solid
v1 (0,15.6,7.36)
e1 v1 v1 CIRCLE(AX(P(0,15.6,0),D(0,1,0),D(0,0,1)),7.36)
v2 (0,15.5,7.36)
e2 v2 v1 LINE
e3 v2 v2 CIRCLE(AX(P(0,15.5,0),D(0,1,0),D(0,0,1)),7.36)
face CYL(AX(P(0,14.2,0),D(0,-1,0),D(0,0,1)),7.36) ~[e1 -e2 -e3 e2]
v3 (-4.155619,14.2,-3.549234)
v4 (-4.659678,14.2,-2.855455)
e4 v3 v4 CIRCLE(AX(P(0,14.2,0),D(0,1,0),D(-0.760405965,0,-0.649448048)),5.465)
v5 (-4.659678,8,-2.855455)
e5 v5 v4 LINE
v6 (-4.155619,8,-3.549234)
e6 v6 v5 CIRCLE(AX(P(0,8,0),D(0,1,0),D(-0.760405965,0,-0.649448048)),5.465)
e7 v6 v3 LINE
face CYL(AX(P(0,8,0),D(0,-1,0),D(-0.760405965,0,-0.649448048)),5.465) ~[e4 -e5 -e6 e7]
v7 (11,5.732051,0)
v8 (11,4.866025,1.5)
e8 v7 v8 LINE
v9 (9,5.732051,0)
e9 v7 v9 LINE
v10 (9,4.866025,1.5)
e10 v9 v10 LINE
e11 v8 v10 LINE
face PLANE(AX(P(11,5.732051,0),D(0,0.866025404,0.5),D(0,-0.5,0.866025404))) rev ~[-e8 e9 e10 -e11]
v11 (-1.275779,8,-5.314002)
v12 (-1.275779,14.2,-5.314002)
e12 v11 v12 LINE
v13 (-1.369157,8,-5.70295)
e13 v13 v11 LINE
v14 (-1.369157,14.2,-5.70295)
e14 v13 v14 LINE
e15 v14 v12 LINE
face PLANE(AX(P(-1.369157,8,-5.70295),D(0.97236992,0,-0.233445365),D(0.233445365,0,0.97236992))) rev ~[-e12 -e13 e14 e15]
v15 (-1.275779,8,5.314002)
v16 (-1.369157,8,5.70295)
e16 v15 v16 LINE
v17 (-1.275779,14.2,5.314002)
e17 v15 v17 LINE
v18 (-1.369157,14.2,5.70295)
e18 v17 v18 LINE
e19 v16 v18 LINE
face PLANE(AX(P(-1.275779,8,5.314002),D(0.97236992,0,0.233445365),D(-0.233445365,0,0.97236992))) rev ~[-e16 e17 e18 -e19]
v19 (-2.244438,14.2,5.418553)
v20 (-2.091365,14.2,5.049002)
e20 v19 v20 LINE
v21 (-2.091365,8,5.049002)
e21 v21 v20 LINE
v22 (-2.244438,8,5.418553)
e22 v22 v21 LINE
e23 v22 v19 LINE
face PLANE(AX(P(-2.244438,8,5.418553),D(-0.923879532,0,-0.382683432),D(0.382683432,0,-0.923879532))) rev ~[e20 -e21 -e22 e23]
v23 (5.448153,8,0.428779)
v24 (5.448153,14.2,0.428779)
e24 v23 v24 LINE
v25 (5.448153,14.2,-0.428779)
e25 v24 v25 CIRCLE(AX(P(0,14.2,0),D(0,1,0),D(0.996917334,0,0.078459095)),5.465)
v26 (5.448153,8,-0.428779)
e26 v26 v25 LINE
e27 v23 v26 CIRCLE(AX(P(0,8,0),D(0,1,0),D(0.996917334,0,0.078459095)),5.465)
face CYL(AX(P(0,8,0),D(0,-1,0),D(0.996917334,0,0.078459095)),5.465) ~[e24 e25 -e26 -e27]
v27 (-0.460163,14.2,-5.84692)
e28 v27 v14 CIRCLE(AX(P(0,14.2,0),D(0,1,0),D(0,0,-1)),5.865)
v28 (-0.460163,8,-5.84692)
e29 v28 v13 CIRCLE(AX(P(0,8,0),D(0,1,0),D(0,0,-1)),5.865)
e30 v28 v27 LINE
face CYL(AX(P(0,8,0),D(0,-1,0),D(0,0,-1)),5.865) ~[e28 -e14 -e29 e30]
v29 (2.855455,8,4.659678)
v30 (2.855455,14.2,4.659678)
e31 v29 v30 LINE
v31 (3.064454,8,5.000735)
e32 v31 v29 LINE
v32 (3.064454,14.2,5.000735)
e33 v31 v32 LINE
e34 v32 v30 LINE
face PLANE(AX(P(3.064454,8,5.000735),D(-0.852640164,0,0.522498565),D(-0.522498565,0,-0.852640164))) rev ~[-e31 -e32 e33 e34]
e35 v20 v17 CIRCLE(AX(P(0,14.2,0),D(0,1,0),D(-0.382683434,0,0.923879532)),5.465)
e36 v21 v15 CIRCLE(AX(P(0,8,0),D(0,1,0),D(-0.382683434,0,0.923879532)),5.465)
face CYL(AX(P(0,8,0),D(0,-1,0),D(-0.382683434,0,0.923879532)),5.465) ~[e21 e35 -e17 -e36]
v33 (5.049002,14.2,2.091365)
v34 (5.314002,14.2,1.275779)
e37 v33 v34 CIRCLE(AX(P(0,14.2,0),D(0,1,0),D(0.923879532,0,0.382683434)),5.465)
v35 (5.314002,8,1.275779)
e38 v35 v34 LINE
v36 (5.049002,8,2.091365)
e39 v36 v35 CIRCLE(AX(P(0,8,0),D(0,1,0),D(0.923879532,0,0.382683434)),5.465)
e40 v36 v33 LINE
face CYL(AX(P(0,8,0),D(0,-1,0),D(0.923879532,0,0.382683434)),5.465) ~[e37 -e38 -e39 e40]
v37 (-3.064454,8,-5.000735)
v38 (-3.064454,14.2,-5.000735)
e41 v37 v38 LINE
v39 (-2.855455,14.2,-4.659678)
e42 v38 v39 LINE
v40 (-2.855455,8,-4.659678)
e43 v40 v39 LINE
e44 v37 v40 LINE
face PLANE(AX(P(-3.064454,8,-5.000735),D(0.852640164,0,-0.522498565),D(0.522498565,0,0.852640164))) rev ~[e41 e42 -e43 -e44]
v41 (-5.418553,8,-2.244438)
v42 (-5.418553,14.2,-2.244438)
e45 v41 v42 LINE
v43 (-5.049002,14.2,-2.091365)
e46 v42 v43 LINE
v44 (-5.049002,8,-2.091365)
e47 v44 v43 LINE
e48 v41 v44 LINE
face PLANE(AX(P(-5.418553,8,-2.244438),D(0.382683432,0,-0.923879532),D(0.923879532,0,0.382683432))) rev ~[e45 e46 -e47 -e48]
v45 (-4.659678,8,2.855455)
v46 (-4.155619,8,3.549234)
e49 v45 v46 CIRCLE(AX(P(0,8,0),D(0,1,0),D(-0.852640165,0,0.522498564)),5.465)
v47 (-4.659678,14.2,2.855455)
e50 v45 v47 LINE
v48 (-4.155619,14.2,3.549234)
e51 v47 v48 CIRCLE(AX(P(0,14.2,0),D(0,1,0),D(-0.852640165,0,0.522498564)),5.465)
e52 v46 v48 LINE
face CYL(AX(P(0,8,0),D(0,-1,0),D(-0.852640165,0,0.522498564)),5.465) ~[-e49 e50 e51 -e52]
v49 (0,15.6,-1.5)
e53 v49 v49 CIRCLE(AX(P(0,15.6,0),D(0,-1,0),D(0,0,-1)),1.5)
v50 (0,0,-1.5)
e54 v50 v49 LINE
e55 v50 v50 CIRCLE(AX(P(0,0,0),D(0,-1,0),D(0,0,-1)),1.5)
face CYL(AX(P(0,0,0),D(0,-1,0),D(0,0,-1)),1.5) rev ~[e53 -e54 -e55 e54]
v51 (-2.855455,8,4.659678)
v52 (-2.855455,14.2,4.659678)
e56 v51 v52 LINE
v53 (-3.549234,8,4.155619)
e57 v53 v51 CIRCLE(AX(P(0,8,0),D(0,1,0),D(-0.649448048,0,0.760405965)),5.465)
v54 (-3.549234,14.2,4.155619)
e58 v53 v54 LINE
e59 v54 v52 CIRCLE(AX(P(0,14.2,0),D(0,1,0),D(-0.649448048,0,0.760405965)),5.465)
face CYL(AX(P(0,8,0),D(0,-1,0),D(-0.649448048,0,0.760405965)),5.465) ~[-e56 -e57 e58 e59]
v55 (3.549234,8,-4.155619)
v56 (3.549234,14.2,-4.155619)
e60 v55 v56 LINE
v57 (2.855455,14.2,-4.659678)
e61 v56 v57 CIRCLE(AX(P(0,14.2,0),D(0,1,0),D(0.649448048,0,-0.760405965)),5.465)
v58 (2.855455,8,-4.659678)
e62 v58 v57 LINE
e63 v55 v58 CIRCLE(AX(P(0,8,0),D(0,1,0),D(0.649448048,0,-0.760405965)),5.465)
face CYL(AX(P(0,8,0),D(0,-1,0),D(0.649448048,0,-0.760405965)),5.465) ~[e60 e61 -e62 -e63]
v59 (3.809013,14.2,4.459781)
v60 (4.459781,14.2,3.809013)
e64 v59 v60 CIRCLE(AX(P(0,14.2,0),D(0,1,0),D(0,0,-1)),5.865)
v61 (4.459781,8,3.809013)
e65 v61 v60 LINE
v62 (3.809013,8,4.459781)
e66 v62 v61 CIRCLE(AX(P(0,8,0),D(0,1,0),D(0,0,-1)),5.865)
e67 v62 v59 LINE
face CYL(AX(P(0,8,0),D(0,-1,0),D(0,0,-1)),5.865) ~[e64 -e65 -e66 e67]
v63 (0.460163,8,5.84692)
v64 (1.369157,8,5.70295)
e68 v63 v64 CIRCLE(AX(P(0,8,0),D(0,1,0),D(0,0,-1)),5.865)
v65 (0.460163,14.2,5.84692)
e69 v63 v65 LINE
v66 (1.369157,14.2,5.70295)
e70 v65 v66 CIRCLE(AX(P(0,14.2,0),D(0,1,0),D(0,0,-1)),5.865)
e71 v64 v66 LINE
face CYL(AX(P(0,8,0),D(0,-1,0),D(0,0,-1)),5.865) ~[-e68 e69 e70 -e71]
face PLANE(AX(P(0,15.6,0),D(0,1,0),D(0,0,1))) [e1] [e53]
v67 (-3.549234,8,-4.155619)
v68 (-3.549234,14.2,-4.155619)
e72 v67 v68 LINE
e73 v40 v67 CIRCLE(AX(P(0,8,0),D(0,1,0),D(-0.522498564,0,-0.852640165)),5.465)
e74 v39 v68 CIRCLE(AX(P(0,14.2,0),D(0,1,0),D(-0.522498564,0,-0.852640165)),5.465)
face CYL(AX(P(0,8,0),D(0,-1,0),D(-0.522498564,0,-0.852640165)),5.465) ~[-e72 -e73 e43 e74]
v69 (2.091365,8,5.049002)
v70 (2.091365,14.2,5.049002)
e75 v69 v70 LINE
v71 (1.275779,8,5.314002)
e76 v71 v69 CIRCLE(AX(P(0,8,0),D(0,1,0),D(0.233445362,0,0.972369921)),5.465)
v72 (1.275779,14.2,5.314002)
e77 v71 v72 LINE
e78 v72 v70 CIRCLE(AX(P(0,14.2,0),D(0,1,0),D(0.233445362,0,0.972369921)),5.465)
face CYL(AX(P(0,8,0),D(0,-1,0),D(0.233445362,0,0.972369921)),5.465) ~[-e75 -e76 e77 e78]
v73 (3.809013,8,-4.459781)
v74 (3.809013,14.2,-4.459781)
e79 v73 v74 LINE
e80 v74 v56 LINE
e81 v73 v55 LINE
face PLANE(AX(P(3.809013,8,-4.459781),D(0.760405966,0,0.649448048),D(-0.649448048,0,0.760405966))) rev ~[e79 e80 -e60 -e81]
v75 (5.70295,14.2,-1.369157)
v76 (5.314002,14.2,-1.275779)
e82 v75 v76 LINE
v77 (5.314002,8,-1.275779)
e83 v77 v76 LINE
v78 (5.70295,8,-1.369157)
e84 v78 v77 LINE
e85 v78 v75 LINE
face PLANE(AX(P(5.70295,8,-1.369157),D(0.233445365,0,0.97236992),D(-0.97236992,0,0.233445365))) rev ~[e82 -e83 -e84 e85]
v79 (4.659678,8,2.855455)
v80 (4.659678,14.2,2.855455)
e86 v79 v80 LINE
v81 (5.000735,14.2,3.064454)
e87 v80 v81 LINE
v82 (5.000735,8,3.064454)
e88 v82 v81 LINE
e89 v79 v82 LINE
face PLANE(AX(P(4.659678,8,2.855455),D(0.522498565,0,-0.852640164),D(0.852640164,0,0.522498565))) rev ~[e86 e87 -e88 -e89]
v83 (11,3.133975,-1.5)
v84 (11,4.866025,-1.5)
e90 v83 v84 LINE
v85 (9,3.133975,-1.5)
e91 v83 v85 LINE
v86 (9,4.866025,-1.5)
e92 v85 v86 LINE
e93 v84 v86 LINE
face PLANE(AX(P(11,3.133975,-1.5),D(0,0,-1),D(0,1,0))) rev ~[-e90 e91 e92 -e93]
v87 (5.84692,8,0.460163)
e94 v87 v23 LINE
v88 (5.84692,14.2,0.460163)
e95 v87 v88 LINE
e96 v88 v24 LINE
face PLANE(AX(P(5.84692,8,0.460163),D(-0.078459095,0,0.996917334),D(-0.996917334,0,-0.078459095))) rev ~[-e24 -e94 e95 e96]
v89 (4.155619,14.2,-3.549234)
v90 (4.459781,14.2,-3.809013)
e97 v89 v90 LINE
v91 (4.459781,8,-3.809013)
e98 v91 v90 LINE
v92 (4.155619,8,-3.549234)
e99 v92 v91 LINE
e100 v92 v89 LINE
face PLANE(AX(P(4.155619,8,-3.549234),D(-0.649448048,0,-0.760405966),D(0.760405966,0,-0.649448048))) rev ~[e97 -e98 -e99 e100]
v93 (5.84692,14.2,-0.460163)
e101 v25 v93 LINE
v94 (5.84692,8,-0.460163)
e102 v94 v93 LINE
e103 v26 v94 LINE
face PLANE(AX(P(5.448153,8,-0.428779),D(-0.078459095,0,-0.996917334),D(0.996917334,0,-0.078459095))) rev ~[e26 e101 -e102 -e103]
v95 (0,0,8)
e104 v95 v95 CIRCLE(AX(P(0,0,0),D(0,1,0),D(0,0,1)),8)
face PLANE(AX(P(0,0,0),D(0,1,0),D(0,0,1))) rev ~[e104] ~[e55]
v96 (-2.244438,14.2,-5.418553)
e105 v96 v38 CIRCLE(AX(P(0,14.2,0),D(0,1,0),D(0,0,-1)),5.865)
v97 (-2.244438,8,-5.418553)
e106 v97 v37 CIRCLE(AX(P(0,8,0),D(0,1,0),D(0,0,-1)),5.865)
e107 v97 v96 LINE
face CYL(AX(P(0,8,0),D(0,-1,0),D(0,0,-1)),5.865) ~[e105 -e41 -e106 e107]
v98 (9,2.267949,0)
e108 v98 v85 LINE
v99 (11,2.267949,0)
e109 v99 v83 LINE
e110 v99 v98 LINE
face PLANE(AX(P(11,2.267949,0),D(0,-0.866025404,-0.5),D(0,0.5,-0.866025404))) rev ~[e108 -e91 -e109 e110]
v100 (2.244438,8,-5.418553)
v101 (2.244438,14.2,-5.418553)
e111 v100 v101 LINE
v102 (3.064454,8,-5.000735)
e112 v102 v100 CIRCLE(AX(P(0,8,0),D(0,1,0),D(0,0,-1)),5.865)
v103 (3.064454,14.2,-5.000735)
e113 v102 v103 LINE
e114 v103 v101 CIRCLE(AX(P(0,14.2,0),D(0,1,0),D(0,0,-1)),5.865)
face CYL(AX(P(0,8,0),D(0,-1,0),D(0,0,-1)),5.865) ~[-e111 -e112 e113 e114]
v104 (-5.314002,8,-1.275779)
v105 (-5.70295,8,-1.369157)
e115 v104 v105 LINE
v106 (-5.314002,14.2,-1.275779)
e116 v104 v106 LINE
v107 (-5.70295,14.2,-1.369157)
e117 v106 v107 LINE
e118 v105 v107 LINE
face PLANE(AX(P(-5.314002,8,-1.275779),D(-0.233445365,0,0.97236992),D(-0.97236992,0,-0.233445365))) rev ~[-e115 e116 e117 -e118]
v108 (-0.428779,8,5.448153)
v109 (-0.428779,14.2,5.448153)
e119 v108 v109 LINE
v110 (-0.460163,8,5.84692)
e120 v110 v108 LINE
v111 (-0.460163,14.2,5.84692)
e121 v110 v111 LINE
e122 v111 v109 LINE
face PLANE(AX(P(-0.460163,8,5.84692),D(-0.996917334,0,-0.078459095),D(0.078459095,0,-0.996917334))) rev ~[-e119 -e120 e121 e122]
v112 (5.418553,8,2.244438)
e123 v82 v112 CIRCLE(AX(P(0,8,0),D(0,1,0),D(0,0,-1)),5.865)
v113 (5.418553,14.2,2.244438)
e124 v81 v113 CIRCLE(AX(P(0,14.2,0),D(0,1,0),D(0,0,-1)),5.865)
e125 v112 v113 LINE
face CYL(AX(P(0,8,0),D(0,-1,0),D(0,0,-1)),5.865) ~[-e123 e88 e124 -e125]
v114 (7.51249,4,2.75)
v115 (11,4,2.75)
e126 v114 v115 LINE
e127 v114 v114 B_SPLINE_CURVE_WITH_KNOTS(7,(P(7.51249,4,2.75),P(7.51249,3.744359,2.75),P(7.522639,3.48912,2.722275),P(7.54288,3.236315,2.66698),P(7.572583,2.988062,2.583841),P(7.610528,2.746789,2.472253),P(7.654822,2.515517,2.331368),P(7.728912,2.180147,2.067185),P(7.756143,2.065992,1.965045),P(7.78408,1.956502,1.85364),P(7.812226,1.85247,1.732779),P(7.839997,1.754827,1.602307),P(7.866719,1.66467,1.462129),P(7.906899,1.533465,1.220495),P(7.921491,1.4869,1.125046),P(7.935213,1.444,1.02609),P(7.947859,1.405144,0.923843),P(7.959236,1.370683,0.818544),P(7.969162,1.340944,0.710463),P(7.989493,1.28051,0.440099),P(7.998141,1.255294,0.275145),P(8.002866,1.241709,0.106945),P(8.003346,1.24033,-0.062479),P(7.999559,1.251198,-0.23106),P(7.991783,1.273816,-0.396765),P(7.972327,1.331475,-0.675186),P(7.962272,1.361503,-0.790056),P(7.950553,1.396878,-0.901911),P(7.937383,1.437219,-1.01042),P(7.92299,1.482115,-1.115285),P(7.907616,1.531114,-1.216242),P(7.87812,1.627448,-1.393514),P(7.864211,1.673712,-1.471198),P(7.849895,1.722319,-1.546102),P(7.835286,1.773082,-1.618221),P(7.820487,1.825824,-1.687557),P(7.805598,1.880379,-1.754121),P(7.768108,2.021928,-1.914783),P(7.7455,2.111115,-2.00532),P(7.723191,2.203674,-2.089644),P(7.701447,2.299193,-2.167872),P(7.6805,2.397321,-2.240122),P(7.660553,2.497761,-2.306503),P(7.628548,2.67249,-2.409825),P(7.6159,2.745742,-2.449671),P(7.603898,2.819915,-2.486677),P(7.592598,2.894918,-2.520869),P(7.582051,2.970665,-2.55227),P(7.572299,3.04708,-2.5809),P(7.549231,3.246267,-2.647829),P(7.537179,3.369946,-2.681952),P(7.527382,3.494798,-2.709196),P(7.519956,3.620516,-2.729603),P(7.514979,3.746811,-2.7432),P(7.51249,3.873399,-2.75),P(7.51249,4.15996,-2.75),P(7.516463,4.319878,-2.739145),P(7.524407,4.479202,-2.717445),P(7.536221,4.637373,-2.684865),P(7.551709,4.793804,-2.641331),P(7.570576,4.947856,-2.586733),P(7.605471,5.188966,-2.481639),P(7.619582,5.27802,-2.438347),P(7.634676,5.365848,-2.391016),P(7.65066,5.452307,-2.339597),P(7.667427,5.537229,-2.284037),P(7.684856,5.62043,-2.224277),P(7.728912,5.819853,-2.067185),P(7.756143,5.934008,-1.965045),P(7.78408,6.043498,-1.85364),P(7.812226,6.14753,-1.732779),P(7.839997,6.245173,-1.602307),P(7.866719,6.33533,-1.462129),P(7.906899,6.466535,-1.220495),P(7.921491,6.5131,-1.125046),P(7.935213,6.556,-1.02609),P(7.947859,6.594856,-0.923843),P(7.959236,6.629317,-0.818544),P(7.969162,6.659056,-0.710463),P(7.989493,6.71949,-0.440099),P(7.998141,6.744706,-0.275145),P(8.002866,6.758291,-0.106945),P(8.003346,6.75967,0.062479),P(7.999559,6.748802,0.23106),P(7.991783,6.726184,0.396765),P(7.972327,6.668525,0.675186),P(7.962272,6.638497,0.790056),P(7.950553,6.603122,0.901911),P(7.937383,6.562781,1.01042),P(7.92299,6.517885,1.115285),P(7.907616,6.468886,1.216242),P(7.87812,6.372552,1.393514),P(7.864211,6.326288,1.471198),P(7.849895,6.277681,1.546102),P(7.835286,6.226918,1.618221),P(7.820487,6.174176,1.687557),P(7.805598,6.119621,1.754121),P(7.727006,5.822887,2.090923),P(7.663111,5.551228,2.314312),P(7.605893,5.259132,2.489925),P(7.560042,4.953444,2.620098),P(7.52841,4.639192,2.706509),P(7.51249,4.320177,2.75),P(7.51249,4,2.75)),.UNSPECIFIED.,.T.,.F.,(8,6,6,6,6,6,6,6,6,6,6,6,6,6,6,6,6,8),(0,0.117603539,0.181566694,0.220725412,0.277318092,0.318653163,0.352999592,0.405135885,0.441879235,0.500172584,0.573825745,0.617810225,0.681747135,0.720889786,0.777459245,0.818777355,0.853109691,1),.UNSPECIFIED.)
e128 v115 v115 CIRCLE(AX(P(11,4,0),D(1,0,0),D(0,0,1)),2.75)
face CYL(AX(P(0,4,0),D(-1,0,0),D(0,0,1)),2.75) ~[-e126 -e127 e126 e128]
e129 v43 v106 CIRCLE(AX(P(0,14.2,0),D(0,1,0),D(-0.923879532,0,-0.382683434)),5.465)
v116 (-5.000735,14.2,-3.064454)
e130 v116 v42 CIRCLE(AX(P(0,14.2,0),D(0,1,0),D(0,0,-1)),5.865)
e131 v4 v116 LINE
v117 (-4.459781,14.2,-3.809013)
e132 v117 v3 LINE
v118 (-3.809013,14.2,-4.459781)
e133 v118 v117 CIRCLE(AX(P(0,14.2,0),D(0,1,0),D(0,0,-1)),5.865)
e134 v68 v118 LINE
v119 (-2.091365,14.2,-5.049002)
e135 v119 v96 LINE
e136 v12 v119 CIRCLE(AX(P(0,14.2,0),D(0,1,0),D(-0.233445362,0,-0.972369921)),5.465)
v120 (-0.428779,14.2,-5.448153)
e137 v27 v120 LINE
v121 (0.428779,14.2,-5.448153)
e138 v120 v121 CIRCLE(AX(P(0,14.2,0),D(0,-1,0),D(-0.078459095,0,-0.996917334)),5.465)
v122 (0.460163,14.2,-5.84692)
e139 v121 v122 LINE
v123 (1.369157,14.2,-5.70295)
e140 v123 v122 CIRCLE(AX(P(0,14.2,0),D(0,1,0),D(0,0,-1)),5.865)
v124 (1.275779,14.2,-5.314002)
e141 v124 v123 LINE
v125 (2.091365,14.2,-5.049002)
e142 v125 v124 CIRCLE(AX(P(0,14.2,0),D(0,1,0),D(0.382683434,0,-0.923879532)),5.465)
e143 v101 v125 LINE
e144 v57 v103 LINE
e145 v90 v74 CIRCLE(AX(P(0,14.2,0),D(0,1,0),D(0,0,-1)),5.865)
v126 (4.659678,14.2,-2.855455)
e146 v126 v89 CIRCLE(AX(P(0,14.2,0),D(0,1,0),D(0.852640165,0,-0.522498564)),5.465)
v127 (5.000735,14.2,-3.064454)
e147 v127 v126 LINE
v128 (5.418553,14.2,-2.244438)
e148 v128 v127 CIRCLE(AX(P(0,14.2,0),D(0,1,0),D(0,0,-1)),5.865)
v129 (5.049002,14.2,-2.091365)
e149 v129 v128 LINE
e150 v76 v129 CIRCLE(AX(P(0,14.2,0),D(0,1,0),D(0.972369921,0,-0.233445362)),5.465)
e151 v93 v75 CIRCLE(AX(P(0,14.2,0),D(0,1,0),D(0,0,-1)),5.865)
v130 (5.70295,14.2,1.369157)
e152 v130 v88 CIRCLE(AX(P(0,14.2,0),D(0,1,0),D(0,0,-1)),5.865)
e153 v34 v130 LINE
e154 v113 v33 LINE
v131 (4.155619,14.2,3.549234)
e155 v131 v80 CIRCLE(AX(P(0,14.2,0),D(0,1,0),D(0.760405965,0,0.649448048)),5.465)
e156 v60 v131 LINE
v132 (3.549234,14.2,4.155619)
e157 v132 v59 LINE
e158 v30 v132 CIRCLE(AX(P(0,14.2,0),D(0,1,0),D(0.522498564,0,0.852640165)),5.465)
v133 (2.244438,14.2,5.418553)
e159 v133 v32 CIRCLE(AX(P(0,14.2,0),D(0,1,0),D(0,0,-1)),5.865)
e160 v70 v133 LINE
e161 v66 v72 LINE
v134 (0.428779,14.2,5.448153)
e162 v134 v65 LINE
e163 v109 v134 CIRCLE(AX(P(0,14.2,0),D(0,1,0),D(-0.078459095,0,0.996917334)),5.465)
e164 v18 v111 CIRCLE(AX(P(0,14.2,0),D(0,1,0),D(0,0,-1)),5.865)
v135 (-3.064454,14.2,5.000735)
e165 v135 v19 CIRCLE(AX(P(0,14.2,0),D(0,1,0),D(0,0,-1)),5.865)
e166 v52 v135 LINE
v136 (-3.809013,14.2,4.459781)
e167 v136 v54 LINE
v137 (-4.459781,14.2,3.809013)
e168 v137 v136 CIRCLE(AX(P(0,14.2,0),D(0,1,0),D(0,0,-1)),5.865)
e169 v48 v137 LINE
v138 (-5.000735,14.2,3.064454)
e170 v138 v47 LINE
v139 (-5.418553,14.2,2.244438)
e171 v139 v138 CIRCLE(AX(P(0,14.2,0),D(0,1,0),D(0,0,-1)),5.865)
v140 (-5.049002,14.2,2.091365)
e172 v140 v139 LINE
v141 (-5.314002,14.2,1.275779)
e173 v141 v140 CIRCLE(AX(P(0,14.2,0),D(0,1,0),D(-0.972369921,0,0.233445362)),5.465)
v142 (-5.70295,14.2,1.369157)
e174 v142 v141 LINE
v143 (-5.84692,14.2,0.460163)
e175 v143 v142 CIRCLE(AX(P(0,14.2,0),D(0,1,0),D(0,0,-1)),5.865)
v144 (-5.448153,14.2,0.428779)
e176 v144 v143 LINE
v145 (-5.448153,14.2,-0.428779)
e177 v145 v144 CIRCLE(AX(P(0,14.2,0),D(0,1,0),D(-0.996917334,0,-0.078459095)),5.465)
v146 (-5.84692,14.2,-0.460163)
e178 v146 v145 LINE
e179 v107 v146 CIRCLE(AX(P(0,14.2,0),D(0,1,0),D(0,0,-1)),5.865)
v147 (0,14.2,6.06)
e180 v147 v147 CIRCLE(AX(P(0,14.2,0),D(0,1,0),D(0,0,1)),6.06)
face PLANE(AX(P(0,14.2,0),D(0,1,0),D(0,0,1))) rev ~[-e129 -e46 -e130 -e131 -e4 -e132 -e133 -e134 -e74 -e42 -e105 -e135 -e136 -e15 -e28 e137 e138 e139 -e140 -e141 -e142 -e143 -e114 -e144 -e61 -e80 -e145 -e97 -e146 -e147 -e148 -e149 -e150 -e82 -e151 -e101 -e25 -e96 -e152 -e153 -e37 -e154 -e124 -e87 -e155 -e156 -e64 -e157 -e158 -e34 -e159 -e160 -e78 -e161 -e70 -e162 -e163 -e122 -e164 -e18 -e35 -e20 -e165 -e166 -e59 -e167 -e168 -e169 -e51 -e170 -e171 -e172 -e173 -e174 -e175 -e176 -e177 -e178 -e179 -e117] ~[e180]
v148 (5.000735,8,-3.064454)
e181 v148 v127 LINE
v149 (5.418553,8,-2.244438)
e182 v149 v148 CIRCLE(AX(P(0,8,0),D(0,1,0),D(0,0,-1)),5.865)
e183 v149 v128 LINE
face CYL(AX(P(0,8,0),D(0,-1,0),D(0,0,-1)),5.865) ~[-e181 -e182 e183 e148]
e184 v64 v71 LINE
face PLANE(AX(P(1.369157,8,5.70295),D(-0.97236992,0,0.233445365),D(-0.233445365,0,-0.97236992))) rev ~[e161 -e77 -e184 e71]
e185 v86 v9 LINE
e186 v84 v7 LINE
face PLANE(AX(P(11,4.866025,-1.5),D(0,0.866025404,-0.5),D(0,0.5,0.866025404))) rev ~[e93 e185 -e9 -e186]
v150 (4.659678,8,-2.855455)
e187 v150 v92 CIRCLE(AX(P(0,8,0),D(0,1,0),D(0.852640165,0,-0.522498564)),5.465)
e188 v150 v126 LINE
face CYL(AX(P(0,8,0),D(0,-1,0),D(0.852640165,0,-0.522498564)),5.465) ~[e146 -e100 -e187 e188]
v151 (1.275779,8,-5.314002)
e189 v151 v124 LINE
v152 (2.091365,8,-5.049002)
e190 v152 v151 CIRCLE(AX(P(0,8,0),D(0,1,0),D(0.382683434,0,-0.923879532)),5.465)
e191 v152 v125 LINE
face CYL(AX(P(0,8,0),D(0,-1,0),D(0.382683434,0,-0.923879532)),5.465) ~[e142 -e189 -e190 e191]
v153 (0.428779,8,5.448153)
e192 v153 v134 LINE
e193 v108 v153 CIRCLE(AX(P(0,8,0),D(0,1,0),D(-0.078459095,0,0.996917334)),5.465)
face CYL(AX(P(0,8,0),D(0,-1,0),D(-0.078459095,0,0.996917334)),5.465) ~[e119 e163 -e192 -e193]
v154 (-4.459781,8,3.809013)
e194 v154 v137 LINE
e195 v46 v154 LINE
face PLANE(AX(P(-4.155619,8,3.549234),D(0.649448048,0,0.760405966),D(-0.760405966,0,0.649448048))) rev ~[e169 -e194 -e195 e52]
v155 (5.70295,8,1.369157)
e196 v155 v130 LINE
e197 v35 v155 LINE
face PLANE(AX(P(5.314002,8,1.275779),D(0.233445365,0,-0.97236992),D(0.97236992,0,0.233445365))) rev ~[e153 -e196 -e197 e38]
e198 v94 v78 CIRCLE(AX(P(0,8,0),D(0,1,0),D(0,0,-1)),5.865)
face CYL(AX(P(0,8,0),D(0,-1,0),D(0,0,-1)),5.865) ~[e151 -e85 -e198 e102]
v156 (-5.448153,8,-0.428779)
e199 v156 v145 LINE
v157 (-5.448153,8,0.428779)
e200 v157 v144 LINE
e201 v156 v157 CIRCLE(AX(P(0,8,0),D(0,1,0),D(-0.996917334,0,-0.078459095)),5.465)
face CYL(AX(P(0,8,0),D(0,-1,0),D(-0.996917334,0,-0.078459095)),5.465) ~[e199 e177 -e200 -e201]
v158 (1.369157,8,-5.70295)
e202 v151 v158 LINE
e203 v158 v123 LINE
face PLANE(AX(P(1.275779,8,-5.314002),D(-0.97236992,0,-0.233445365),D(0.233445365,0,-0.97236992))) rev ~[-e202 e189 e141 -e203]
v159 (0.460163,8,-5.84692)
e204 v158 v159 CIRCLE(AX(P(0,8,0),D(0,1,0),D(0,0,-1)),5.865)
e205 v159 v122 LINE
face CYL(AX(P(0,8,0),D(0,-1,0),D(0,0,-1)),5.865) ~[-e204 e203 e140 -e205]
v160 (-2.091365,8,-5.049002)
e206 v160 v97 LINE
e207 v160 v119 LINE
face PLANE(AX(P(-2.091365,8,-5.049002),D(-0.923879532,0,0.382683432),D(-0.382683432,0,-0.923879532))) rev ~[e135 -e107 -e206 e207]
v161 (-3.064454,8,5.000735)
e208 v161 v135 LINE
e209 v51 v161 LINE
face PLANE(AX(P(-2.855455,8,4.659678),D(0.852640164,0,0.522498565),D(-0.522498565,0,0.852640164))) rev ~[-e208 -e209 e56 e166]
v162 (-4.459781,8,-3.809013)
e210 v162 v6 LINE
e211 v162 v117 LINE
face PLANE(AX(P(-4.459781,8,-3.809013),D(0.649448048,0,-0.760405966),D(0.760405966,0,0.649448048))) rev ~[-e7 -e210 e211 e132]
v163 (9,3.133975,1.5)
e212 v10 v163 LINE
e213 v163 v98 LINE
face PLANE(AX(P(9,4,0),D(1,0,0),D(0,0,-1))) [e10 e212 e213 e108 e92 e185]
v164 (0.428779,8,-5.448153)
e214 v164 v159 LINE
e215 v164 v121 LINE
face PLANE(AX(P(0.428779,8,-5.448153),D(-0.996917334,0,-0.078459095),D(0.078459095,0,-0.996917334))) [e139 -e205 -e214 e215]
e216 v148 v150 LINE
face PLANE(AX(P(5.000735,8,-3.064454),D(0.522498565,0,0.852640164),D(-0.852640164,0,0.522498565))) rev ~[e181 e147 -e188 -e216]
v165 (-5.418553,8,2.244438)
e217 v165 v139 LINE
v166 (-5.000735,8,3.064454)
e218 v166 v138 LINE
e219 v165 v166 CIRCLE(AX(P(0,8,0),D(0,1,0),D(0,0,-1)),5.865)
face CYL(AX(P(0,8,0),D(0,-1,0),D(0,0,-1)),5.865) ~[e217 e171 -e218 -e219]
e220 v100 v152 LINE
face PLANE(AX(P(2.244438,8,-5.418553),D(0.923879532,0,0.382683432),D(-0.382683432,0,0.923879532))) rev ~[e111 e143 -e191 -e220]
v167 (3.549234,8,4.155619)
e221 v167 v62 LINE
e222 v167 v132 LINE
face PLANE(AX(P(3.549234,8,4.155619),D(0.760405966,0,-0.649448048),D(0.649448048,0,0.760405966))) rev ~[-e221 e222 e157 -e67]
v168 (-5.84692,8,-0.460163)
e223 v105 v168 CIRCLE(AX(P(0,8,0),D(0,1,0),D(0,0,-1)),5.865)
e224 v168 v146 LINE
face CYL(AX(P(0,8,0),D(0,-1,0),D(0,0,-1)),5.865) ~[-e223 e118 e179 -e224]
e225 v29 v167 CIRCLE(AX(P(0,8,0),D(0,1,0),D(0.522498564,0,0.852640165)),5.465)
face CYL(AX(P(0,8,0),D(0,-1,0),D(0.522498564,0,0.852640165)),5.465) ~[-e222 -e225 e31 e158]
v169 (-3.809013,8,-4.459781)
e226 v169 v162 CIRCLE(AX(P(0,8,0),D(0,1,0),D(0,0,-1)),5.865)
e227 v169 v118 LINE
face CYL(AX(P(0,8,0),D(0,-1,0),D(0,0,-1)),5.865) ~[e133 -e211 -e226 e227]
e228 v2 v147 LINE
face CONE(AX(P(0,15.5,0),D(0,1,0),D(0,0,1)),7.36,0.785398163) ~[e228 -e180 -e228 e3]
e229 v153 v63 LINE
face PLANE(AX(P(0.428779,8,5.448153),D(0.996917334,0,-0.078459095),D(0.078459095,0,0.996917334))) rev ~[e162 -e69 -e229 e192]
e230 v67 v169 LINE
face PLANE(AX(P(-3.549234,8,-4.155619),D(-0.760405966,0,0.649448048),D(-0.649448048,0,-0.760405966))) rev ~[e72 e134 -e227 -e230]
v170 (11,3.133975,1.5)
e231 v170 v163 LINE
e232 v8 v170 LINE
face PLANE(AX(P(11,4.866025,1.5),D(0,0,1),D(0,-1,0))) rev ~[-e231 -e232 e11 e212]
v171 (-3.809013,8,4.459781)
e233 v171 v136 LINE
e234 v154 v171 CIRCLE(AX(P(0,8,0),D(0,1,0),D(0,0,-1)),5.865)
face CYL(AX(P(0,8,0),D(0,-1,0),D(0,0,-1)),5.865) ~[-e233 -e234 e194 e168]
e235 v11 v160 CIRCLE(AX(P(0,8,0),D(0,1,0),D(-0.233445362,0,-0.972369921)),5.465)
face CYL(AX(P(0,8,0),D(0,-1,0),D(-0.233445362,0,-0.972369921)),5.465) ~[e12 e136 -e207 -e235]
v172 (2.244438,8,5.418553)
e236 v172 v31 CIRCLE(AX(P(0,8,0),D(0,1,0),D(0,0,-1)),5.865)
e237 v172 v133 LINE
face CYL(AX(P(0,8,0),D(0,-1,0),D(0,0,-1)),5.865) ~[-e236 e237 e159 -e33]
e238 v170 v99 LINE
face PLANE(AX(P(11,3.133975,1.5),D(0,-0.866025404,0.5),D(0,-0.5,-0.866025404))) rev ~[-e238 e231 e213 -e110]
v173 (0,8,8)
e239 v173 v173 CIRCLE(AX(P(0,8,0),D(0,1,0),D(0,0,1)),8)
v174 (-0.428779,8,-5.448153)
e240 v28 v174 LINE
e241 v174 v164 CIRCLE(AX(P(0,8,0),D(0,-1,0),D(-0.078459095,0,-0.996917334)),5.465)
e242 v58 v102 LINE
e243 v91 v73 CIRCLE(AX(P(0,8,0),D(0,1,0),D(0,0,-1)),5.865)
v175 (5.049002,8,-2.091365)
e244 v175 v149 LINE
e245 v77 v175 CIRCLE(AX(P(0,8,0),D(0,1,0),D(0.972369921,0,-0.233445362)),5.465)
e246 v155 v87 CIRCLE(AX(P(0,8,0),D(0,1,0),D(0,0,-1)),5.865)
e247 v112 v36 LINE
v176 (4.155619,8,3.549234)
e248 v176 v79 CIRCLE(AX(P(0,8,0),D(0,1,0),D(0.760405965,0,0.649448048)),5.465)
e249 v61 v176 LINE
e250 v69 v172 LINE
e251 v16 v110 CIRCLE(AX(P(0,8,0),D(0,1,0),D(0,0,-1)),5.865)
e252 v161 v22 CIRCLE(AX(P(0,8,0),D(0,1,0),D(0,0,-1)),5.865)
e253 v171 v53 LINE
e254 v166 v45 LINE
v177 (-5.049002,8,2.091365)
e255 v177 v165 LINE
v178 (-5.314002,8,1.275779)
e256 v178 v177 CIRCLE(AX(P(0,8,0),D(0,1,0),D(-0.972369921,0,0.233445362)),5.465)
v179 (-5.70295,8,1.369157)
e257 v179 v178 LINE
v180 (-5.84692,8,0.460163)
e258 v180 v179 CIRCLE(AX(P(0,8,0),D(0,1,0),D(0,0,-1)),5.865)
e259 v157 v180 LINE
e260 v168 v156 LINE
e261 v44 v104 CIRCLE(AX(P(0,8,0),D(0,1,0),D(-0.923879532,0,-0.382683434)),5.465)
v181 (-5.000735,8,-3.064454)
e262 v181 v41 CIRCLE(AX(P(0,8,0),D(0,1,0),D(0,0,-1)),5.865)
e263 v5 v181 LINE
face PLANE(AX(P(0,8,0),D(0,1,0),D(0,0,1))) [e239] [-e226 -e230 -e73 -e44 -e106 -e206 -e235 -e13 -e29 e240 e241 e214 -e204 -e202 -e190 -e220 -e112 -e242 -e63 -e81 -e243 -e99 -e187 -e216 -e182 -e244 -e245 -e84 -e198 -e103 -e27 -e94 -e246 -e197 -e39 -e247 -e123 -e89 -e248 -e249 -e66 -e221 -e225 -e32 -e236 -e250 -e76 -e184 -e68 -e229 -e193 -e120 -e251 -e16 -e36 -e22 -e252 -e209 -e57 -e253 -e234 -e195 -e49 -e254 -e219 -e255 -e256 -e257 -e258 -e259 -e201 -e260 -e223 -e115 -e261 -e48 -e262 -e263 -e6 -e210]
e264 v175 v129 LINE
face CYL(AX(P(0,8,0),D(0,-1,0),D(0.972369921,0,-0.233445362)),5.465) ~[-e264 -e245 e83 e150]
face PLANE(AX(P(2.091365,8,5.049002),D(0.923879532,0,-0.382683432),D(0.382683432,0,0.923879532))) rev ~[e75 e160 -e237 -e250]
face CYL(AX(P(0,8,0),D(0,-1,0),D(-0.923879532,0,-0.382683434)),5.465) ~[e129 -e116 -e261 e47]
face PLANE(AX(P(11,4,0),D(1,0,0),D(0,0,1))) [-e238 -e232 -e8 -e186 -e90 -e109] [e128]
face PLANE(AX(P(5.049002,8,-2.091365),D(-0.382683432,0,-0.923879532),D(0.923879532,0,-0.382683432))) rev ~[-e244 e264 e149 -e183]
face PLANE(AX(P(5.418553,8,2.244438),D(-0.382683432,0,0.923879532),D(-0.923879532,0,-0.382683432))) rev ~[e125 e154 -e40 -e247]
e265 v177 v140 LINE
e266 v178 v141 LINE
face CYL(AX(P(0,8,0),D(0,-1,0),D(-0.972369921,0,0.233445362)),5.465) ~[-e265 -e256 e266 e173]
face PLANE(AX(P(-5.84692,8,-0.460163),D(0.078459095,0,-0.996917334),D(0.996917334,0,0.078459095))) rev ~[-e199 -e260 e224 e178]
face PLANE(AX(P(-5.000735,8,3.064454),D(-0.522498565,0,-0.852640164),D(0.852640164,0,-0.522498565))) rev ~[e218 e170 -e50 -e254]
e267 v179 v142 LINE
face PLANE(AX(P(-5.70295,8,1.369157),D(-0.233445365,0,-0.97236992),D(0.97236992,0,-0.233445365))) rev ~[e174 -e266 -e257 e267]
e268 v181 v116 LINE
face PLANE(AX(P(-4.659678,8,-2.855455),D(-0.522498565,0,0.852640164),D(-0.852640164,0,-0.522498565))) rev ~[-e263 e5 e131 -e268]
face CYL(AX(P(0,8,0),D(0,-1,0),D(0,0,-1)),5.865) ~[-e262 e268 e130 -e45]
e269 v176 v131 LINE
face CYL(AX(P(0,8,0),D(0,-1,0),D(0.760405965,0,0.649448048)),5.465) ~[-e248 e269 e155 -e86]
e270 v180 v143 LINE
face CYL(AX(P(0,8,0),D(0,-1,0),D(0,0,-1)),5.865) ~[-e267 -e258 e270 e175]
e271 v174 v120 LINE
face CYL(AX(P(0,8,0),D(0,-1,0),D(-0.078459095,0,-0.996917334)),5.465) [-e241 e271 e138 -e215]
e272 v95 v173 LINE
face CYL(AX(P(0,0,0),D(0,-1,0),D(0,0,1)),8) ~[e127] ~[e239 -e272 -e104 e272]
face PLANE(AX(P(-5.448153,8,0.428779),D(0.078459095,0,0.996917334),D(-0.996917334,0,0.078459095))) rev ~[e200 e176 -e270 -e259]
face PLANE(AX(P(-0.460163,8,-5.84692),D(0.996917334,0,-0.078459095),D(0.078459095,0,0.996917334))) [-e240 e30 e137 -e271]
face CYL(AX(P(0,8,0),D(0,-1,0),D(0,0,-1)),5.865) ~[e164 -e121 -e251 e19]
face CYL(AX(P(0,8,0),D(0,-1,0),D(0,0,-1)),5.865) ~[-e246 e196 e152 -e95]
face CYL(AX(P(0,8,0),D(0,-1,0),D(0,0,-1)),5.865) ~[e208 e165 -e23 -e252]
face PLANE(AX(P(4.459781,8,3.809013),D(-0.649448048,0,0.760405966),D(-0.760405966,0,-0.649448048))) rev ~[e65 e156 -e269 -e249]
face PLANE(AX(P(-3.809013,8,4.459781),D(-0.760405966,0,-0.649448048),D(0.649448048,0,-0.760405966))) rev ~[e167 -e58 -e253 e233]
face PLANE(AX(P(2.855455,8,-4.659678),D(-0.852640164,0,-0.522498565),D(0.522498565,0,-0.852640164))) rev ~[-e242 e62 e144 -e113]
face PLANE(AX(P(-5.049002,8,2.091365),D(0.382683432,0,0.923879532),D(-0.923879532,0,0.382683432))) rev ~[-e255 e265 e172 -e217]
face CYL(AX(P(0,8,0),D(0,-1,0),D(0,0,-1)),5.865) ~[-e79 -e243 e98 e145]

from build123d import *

# Parameters (mm, degrees)
SKETCH1_R           = 8
BOSS_EXTRUDE1_DEPTH = 8
SKETCH2_R           = 5.865
BOSS_EXTRUDE2_DEPTH = 6.2
CUT_EXTRUDE2_START  = -6.2
CUT_EXTRUDE2_DEPTH  = 6.2
SKETCH3_R           = 7.36
BOSS_EXTRUDE3_DEPTH = 1.4
CHAMFER1_SIZE       = 1.3
SKETCH4_R           = 2.75
BOSS_EXTRUDE4_DEPTH = 11
CUT_EXTRUDE1_DEPTH  = 2
SKETCH7_R           = 1.5
CUT_EXTRUDE3_DEPTH  = 21.696859757


with BuildPart() as part:
    # Sketch1 → Boss-Extrude1 (new body)
    with BuildSketch(Plane(origin=(0, 0, 0), x_dir=(1, 0, 0), z_dir=(0, 1, 0))):
        with Locations(Location((0, 0, 0), (0, 0, 270))):
            Circle(SKETCH1_R)
    extrude(amount=BOSS_EXTRUDE1_DEPTH)

    # Sketch2 → Boss-Extrude2 (add)
    with BuildSketch(Plane(origin=(0, 8, 0), x_dir=(1, 0, 0), z_dir=(0, 1, 0))):
        with Locations(Location((0, 0, 0), (0, 0, 90))):
            Circle(SKETCH2_R)
    extrude(amount=BOSS_EXTRUDE2_DEPTH)

    # Sketch6 → Cut-Extrude2 (cut)
    with BuildSketch(Plane(origin=(0, 14.2, 0), x_dir=(1, 0, 0), z_dir=(0, 1, 0)).offset(CUT_EXTRUDE2_START)):
        with BuildLine():
            Line((-0.460162596, 5.846920162), (-0.428778958, 5.448153229))
            ThreePointArc((-0.428778958, 5.448153229), (0, 5.465), (0.428778958, 5.448153229))
            Line((0.428778958, 5.448153229), (0.460162596, 5.846920162))
            ThreePointArc((0.460162596, 5.846920162), (0, 5.865), (-0.460162596, 5.846920162))
        make_face()
        with BuildLine():
            Line((2.244438331, 5.418553458), (2.091364958, 5.049001645))
            ThreePointArc((2.091364958, 5.049001645), (1.688777874, 5.197523862), (1.275778913, 5.314001615))
            Line((1.275778913, 5.314001615), (1.369157059, 5.702949583))
            ThreePointArc((1.369157059, 5.702949583), (1.812384672, 5.577946468), (2.244438331, 5.418553458))
        make_face()
        with BuildLine():
            Line((3.809012803, 4.459780988), (3.549233584, 4.155618602))
            ThreePointArc((3.549233584, 4.155618602), (3.212246404, 4.421277874), (2.855454656, 4.659678498))
            Line((2.855454656, 4.659678498), (3.064454082, 5.000734564))
            ThreePointArc((3.064454082, 5.000734564), (3.447360505, 4.744884672), (3.809012803, 4.459780988))
        make_face()
        with BuildLine():
            Line((5.000734564, 3.064454082), (4.659678498, 2.855454656))
            ThreePointArc((4.659678498, 2.855454656), (4.421277874, 3.212246404), (4.155618602, 3.549233584))
            Line((4.155618602, 3.549233584), (4.459780988, 3.809012803))
            ThreePointArc((4.459780988, 3.809012803), (4.744884672, 3.447360505), (5.000734564, 3.064454082))
        make_face()
        with BuildLine():
            Line((5.702949583, 1.369157059), (5.314001615, 1.275778913))
            ThreePointArc((5.314001615, 1.275778913), (5.197523862, 1.688777874), (5.049001645, 2.091364958))
            Line((5.049001645, 2.091364958), (5.418553458, 2.244438331))
            ThreePointArc((5.418553458, 2.244438331), (5.577946468, 1.812384672), (5.702949583, 1.369157059))
        make_face()
        with BuildLine():
            Line((5.846920162, -0.460162596), (5.448153229, -0.428778958))
            ThreePointArc((5.448153229, -0.428778958), (5.465, 0), (5.448153229, 0.428778958))
            Line((5.448153229, 0.428778958), (5.846920162, 0.460162596))
            ThreePointArc((5.846920162, 0.460162596), (5.865, 0), (5.846920162, -0.460162596))
        make_face()
        with BuildLine():
            Line((5.418553458, -2.244438331), (5.049001645, -2.091364958))
            ThreePointArc((5.049001645, -2.091364958), (5.197523862, -1.688777874), (5.314001615, -1.275778913))
            Line((5.314001615, -1.275778913), (5.702949583, -1.369157059))
            ThreePointArc((5.702949583, -1.369157059), (5.577946468, -1.812384672), (5.418553458, -2.244438331))
        make_face()
        with BuildLine():
            Line((4.459780988, -3.809012803), (4.155618602, -3.549233584))
            ThreePointArc((4.155618602, -3.549233584), (4.421277874, -3.212246404), (4.659678498, -2.855454656))
            Line((4.659678498, -2.855454656), (5.000734564, -3.064454082))
            ThreePointArc((5.000734564, -3.064454082), (4.744884672, -3.447360505), (4.459780988, -3.809012803))
        make_face()
        with BuildLine():
            Line((3.064454082, -5.000734564), (2.855454656, -4.659678498))
            ThreePointArc((2.855454656, -4.659678498), (3.212246404, -4.421277874), (3.549233584, -4.155618602))
            Line((3.549233584, -4.155618602), (3.809012803, -4.459780988))
            ThreePointArc((3.809012803, -4.459780988), (3.447360505, -4.744884672), (3.064454082, -5.000734564))
        make_face()
        with BuildLine():
            Line((1.369157059, -5.702949583), (1.275778913, -5.314001615))
            ThreePointArc((1.275778913, -5.314001615), (1.688777874, -5.197523862), (2.091364958, -5.049001645))
            Line((2.091364958, -5.049001645), (2.244438331, -5.418553458))
            ThreePointArc((2.244438331, -5.418553458), (1.812384672, -5.577946468), (1.369157059, -5.702949583))
        make_face()
        with BuildLine():
            Line((-0.460162596, -5.846920162), (-0.428778958, -5.448153229))
            ThreePointArc((-0.428778958, -5.448153229), (0, -5.465), (0.428778958, -5.448153229))
            Line((0.428778958, -5.448153229), (0.460162596, -5.846920162))
            ThreePointArc((0.460162596, -5.846920162), (0, -5.865), (-0.460162596, -5.846920162))
        make_face()
        with BuildLine():
            Line((-2.244438331, -5.418553458), (-2.091364958, -5.049001645))
            ThreePointArc((-2.091364958, -5.049001645), (-1.688777874, -5.197523862), (-1.275778913, -5.314001615))
            Line((-1.275778913, -5.314001615), (-1.369157059, -5.702949583))
            ThreePointArc((-1.369157059, -5.702949583), (-1.812384672, -5.577946468), (-2.244438331, -5.418553458))
        make_face()
        with BuildLine():
            Line((-3.809012803, -4.459780988), (-3.549233584, -4.155618602))
            ThreePointArc((-3.549233584, -4.155618602), (-3.212246404, -4.421277874), (-2.855454656, -4.659678498))
            Line((-2.855454656, -4.659678498), (-3.064454082, -5.000734564))
            ThreePointArc((-3.064454082, -5.000734564), (-3.447360505, -4.744884672), (-3.809012803, -4.459780988))
        make_face()
        with BuildLine():
            Line((-5.000734564, -3.064454082), (-4.659678498, -2.855454656))
            ThreePointArc((-4.659678498, -2.855454656), (-4.421277874, -3.212246404), (-4.155618602, -3.549233584))
            Line((-4.155618602, -3.549233584), (-4.459780988, -3.809012803))
            ThreePointArc((-4.459780988, -3.809012803), (-4.744884672, -3.447360505), (-5.000734564, -3.064454082))
        make_face()
        with BuildLine():
            Line((-5.702949583, -1.369157059), (-5.314001615, -1.275778913))
            ThreePointArc((-5.314001615, -1.275778913), (-5.197523862, -1.688777874), (-5.049001645, -2.091364958))
            Line((-5.049001645, -2.091364958), (-5.418553458, -2.244438331))
            ThreePointArc((-5.418553458, -2.244438331), (-5.577946468, -1.812384672), (-5.702949583, -1.369157059))
        make_face()
        with BuildLine():
            Line((-5.846920162, 0.460162596), (-5.448153229, 0.428778958))
            ThreePointArc((-5.448153229, 0.428778958), (-5.465, 0), (-5.448153229, -0.428778958))
            Line((-5.448153229, -0.428778958), (-5.846920162, -0.460162596))
            ThreePointArc((-5.846920162, -0.460162596), (-5.865, 0), (-5.846920162, 0.460162596))
        make_face()
        with BuildLine():
            Line((-5.418553458, 2.244438331), (-5.049001645, 2.091364958))
            ThreePointArc((-5.049001645, 2.091364958), (-5.197523862, 1.688777874), (-5.314001615, 1.275778913))
            Line((-5.314001615, 1.275778913), (-5.702949583, 1.369157059))
            ThreePointArc((-5.702949583, 1.369157059), (-5.577946468, 1.812384672), (-5.418553458, 2.244438331))
        make_face()
        with BuildLine():
            Line((-4.459780988, 3.809012803), (-4.155618602, 3.549233584))
            ThreePointArc((-4.155618602, 3.549233584), (-4.421277874, 3.212246404), (-4.659678498, 2.855454656))
            Line((-4.659678498, 2.855454656), (-5.000734564, 3.064454082))
            ThreePointArc((-5.000734564, 3.064454082), (-4.744884672, 3.447360505), (-4.459780988, 3.809012803))
        make_face()
        with BuildLine():
            Line((-3.064454082, 5.000734564), (-2.855454656, 4.659678498))
            ThreePointArc((-2.855454656, 4.659678498), (-3.212246404, 4.421277874), (-3.549233584, 4.155618602))
            Line((-3.549233584, 4.155618602), (-3.809012803, 4.459780988))
            ThreePointArc((-3.809012803, 4.459780988), (-3.447360505, 4.744884672), (-3.064454082, 5.000734564))
        make_face()
        with BuildLine():
            Line((-1.369157059, 5.702949583), (-1.275778913, 5.314001615))
            ThreePointArc((-1.275778913, 5.314001615), (-1.688777874, 5.197523862), (-2.091364958, 5.049001645))
            Line((-2.091364958, 5.049001645), (-2.244438331, 5.418553458))
            ThreePointArc((-2.244438331, 5.418553458), (-1.812384672, 5.577946468), (-1.369157059, 5.702949583))
        make_face()
    extrude(amount=CUT_EXTRUDE2_DEPTH, mode=Mode.SUBTRACT)

    # Sketch3 → Boss-Extrude3 (add)
    with BuildSketch(Plane(origin=(0, 14.2, 0), x_dir=(1, 0, 0), z_dir=(0, 1, 0))):
        with Locations(Location((0, 0, 0), (0, 0, 270))):
            Circle(SKETCH3_R)
    extrude(amount=BOSS_EXTRUDE3_DEPTH)

    # Chamfer1
    chamfer1_edges = [part.edges().sort_by_distance(p)[0] for p in [
        (0, 14.2, -7.36),
    ]]
    chamfer(chamfer1_edges, length=CHAMFER1_SIZE)

    # Sketch4 → Boss-Extrude4 (add)
    with BuildSketch(Plane(origin=(0, 0, 0), x_dir=(0, 0, -1), z_dir=(1, 0, 0))):
        with Locations(Location((0, 4, 0), (0, 0, 180))):
            Circle(SKETCH4_R)
    extrude(amount=BOSS_EXTRUDE4_DEPTH)

    # Sketch5 → Cut-Extrude1 (cut)
    with BuildSketch(Plane(origin=(11, 0, 0), x_dir=(0, 0, -1), z_dir=(1, 0, 0))):
        Polygon((0, 2.267949192), (1.5, 3.133974596), (1.5, 4.866025404), (0, 5.732050808), (-1.5, 4.866025404), (-1.5, 3.133974596), align=None)
    extrude(amount=-CUT_EXTRUDE1_DEPTH, mode=Mode.SUBTRACT)

    # Sketch7 → Cut-Extrude3 (cut, through all)
    with BuildSketch(Plane.XZ):
        with Locations(Location((0, 0, 0), (0, 0, 270))):
            Circle(SKETCH7_R)
    extrude(amount=-CUT_EXTRUDE3_DEPTH, mode=Mode.SUBTRACT)


solid = part.part
